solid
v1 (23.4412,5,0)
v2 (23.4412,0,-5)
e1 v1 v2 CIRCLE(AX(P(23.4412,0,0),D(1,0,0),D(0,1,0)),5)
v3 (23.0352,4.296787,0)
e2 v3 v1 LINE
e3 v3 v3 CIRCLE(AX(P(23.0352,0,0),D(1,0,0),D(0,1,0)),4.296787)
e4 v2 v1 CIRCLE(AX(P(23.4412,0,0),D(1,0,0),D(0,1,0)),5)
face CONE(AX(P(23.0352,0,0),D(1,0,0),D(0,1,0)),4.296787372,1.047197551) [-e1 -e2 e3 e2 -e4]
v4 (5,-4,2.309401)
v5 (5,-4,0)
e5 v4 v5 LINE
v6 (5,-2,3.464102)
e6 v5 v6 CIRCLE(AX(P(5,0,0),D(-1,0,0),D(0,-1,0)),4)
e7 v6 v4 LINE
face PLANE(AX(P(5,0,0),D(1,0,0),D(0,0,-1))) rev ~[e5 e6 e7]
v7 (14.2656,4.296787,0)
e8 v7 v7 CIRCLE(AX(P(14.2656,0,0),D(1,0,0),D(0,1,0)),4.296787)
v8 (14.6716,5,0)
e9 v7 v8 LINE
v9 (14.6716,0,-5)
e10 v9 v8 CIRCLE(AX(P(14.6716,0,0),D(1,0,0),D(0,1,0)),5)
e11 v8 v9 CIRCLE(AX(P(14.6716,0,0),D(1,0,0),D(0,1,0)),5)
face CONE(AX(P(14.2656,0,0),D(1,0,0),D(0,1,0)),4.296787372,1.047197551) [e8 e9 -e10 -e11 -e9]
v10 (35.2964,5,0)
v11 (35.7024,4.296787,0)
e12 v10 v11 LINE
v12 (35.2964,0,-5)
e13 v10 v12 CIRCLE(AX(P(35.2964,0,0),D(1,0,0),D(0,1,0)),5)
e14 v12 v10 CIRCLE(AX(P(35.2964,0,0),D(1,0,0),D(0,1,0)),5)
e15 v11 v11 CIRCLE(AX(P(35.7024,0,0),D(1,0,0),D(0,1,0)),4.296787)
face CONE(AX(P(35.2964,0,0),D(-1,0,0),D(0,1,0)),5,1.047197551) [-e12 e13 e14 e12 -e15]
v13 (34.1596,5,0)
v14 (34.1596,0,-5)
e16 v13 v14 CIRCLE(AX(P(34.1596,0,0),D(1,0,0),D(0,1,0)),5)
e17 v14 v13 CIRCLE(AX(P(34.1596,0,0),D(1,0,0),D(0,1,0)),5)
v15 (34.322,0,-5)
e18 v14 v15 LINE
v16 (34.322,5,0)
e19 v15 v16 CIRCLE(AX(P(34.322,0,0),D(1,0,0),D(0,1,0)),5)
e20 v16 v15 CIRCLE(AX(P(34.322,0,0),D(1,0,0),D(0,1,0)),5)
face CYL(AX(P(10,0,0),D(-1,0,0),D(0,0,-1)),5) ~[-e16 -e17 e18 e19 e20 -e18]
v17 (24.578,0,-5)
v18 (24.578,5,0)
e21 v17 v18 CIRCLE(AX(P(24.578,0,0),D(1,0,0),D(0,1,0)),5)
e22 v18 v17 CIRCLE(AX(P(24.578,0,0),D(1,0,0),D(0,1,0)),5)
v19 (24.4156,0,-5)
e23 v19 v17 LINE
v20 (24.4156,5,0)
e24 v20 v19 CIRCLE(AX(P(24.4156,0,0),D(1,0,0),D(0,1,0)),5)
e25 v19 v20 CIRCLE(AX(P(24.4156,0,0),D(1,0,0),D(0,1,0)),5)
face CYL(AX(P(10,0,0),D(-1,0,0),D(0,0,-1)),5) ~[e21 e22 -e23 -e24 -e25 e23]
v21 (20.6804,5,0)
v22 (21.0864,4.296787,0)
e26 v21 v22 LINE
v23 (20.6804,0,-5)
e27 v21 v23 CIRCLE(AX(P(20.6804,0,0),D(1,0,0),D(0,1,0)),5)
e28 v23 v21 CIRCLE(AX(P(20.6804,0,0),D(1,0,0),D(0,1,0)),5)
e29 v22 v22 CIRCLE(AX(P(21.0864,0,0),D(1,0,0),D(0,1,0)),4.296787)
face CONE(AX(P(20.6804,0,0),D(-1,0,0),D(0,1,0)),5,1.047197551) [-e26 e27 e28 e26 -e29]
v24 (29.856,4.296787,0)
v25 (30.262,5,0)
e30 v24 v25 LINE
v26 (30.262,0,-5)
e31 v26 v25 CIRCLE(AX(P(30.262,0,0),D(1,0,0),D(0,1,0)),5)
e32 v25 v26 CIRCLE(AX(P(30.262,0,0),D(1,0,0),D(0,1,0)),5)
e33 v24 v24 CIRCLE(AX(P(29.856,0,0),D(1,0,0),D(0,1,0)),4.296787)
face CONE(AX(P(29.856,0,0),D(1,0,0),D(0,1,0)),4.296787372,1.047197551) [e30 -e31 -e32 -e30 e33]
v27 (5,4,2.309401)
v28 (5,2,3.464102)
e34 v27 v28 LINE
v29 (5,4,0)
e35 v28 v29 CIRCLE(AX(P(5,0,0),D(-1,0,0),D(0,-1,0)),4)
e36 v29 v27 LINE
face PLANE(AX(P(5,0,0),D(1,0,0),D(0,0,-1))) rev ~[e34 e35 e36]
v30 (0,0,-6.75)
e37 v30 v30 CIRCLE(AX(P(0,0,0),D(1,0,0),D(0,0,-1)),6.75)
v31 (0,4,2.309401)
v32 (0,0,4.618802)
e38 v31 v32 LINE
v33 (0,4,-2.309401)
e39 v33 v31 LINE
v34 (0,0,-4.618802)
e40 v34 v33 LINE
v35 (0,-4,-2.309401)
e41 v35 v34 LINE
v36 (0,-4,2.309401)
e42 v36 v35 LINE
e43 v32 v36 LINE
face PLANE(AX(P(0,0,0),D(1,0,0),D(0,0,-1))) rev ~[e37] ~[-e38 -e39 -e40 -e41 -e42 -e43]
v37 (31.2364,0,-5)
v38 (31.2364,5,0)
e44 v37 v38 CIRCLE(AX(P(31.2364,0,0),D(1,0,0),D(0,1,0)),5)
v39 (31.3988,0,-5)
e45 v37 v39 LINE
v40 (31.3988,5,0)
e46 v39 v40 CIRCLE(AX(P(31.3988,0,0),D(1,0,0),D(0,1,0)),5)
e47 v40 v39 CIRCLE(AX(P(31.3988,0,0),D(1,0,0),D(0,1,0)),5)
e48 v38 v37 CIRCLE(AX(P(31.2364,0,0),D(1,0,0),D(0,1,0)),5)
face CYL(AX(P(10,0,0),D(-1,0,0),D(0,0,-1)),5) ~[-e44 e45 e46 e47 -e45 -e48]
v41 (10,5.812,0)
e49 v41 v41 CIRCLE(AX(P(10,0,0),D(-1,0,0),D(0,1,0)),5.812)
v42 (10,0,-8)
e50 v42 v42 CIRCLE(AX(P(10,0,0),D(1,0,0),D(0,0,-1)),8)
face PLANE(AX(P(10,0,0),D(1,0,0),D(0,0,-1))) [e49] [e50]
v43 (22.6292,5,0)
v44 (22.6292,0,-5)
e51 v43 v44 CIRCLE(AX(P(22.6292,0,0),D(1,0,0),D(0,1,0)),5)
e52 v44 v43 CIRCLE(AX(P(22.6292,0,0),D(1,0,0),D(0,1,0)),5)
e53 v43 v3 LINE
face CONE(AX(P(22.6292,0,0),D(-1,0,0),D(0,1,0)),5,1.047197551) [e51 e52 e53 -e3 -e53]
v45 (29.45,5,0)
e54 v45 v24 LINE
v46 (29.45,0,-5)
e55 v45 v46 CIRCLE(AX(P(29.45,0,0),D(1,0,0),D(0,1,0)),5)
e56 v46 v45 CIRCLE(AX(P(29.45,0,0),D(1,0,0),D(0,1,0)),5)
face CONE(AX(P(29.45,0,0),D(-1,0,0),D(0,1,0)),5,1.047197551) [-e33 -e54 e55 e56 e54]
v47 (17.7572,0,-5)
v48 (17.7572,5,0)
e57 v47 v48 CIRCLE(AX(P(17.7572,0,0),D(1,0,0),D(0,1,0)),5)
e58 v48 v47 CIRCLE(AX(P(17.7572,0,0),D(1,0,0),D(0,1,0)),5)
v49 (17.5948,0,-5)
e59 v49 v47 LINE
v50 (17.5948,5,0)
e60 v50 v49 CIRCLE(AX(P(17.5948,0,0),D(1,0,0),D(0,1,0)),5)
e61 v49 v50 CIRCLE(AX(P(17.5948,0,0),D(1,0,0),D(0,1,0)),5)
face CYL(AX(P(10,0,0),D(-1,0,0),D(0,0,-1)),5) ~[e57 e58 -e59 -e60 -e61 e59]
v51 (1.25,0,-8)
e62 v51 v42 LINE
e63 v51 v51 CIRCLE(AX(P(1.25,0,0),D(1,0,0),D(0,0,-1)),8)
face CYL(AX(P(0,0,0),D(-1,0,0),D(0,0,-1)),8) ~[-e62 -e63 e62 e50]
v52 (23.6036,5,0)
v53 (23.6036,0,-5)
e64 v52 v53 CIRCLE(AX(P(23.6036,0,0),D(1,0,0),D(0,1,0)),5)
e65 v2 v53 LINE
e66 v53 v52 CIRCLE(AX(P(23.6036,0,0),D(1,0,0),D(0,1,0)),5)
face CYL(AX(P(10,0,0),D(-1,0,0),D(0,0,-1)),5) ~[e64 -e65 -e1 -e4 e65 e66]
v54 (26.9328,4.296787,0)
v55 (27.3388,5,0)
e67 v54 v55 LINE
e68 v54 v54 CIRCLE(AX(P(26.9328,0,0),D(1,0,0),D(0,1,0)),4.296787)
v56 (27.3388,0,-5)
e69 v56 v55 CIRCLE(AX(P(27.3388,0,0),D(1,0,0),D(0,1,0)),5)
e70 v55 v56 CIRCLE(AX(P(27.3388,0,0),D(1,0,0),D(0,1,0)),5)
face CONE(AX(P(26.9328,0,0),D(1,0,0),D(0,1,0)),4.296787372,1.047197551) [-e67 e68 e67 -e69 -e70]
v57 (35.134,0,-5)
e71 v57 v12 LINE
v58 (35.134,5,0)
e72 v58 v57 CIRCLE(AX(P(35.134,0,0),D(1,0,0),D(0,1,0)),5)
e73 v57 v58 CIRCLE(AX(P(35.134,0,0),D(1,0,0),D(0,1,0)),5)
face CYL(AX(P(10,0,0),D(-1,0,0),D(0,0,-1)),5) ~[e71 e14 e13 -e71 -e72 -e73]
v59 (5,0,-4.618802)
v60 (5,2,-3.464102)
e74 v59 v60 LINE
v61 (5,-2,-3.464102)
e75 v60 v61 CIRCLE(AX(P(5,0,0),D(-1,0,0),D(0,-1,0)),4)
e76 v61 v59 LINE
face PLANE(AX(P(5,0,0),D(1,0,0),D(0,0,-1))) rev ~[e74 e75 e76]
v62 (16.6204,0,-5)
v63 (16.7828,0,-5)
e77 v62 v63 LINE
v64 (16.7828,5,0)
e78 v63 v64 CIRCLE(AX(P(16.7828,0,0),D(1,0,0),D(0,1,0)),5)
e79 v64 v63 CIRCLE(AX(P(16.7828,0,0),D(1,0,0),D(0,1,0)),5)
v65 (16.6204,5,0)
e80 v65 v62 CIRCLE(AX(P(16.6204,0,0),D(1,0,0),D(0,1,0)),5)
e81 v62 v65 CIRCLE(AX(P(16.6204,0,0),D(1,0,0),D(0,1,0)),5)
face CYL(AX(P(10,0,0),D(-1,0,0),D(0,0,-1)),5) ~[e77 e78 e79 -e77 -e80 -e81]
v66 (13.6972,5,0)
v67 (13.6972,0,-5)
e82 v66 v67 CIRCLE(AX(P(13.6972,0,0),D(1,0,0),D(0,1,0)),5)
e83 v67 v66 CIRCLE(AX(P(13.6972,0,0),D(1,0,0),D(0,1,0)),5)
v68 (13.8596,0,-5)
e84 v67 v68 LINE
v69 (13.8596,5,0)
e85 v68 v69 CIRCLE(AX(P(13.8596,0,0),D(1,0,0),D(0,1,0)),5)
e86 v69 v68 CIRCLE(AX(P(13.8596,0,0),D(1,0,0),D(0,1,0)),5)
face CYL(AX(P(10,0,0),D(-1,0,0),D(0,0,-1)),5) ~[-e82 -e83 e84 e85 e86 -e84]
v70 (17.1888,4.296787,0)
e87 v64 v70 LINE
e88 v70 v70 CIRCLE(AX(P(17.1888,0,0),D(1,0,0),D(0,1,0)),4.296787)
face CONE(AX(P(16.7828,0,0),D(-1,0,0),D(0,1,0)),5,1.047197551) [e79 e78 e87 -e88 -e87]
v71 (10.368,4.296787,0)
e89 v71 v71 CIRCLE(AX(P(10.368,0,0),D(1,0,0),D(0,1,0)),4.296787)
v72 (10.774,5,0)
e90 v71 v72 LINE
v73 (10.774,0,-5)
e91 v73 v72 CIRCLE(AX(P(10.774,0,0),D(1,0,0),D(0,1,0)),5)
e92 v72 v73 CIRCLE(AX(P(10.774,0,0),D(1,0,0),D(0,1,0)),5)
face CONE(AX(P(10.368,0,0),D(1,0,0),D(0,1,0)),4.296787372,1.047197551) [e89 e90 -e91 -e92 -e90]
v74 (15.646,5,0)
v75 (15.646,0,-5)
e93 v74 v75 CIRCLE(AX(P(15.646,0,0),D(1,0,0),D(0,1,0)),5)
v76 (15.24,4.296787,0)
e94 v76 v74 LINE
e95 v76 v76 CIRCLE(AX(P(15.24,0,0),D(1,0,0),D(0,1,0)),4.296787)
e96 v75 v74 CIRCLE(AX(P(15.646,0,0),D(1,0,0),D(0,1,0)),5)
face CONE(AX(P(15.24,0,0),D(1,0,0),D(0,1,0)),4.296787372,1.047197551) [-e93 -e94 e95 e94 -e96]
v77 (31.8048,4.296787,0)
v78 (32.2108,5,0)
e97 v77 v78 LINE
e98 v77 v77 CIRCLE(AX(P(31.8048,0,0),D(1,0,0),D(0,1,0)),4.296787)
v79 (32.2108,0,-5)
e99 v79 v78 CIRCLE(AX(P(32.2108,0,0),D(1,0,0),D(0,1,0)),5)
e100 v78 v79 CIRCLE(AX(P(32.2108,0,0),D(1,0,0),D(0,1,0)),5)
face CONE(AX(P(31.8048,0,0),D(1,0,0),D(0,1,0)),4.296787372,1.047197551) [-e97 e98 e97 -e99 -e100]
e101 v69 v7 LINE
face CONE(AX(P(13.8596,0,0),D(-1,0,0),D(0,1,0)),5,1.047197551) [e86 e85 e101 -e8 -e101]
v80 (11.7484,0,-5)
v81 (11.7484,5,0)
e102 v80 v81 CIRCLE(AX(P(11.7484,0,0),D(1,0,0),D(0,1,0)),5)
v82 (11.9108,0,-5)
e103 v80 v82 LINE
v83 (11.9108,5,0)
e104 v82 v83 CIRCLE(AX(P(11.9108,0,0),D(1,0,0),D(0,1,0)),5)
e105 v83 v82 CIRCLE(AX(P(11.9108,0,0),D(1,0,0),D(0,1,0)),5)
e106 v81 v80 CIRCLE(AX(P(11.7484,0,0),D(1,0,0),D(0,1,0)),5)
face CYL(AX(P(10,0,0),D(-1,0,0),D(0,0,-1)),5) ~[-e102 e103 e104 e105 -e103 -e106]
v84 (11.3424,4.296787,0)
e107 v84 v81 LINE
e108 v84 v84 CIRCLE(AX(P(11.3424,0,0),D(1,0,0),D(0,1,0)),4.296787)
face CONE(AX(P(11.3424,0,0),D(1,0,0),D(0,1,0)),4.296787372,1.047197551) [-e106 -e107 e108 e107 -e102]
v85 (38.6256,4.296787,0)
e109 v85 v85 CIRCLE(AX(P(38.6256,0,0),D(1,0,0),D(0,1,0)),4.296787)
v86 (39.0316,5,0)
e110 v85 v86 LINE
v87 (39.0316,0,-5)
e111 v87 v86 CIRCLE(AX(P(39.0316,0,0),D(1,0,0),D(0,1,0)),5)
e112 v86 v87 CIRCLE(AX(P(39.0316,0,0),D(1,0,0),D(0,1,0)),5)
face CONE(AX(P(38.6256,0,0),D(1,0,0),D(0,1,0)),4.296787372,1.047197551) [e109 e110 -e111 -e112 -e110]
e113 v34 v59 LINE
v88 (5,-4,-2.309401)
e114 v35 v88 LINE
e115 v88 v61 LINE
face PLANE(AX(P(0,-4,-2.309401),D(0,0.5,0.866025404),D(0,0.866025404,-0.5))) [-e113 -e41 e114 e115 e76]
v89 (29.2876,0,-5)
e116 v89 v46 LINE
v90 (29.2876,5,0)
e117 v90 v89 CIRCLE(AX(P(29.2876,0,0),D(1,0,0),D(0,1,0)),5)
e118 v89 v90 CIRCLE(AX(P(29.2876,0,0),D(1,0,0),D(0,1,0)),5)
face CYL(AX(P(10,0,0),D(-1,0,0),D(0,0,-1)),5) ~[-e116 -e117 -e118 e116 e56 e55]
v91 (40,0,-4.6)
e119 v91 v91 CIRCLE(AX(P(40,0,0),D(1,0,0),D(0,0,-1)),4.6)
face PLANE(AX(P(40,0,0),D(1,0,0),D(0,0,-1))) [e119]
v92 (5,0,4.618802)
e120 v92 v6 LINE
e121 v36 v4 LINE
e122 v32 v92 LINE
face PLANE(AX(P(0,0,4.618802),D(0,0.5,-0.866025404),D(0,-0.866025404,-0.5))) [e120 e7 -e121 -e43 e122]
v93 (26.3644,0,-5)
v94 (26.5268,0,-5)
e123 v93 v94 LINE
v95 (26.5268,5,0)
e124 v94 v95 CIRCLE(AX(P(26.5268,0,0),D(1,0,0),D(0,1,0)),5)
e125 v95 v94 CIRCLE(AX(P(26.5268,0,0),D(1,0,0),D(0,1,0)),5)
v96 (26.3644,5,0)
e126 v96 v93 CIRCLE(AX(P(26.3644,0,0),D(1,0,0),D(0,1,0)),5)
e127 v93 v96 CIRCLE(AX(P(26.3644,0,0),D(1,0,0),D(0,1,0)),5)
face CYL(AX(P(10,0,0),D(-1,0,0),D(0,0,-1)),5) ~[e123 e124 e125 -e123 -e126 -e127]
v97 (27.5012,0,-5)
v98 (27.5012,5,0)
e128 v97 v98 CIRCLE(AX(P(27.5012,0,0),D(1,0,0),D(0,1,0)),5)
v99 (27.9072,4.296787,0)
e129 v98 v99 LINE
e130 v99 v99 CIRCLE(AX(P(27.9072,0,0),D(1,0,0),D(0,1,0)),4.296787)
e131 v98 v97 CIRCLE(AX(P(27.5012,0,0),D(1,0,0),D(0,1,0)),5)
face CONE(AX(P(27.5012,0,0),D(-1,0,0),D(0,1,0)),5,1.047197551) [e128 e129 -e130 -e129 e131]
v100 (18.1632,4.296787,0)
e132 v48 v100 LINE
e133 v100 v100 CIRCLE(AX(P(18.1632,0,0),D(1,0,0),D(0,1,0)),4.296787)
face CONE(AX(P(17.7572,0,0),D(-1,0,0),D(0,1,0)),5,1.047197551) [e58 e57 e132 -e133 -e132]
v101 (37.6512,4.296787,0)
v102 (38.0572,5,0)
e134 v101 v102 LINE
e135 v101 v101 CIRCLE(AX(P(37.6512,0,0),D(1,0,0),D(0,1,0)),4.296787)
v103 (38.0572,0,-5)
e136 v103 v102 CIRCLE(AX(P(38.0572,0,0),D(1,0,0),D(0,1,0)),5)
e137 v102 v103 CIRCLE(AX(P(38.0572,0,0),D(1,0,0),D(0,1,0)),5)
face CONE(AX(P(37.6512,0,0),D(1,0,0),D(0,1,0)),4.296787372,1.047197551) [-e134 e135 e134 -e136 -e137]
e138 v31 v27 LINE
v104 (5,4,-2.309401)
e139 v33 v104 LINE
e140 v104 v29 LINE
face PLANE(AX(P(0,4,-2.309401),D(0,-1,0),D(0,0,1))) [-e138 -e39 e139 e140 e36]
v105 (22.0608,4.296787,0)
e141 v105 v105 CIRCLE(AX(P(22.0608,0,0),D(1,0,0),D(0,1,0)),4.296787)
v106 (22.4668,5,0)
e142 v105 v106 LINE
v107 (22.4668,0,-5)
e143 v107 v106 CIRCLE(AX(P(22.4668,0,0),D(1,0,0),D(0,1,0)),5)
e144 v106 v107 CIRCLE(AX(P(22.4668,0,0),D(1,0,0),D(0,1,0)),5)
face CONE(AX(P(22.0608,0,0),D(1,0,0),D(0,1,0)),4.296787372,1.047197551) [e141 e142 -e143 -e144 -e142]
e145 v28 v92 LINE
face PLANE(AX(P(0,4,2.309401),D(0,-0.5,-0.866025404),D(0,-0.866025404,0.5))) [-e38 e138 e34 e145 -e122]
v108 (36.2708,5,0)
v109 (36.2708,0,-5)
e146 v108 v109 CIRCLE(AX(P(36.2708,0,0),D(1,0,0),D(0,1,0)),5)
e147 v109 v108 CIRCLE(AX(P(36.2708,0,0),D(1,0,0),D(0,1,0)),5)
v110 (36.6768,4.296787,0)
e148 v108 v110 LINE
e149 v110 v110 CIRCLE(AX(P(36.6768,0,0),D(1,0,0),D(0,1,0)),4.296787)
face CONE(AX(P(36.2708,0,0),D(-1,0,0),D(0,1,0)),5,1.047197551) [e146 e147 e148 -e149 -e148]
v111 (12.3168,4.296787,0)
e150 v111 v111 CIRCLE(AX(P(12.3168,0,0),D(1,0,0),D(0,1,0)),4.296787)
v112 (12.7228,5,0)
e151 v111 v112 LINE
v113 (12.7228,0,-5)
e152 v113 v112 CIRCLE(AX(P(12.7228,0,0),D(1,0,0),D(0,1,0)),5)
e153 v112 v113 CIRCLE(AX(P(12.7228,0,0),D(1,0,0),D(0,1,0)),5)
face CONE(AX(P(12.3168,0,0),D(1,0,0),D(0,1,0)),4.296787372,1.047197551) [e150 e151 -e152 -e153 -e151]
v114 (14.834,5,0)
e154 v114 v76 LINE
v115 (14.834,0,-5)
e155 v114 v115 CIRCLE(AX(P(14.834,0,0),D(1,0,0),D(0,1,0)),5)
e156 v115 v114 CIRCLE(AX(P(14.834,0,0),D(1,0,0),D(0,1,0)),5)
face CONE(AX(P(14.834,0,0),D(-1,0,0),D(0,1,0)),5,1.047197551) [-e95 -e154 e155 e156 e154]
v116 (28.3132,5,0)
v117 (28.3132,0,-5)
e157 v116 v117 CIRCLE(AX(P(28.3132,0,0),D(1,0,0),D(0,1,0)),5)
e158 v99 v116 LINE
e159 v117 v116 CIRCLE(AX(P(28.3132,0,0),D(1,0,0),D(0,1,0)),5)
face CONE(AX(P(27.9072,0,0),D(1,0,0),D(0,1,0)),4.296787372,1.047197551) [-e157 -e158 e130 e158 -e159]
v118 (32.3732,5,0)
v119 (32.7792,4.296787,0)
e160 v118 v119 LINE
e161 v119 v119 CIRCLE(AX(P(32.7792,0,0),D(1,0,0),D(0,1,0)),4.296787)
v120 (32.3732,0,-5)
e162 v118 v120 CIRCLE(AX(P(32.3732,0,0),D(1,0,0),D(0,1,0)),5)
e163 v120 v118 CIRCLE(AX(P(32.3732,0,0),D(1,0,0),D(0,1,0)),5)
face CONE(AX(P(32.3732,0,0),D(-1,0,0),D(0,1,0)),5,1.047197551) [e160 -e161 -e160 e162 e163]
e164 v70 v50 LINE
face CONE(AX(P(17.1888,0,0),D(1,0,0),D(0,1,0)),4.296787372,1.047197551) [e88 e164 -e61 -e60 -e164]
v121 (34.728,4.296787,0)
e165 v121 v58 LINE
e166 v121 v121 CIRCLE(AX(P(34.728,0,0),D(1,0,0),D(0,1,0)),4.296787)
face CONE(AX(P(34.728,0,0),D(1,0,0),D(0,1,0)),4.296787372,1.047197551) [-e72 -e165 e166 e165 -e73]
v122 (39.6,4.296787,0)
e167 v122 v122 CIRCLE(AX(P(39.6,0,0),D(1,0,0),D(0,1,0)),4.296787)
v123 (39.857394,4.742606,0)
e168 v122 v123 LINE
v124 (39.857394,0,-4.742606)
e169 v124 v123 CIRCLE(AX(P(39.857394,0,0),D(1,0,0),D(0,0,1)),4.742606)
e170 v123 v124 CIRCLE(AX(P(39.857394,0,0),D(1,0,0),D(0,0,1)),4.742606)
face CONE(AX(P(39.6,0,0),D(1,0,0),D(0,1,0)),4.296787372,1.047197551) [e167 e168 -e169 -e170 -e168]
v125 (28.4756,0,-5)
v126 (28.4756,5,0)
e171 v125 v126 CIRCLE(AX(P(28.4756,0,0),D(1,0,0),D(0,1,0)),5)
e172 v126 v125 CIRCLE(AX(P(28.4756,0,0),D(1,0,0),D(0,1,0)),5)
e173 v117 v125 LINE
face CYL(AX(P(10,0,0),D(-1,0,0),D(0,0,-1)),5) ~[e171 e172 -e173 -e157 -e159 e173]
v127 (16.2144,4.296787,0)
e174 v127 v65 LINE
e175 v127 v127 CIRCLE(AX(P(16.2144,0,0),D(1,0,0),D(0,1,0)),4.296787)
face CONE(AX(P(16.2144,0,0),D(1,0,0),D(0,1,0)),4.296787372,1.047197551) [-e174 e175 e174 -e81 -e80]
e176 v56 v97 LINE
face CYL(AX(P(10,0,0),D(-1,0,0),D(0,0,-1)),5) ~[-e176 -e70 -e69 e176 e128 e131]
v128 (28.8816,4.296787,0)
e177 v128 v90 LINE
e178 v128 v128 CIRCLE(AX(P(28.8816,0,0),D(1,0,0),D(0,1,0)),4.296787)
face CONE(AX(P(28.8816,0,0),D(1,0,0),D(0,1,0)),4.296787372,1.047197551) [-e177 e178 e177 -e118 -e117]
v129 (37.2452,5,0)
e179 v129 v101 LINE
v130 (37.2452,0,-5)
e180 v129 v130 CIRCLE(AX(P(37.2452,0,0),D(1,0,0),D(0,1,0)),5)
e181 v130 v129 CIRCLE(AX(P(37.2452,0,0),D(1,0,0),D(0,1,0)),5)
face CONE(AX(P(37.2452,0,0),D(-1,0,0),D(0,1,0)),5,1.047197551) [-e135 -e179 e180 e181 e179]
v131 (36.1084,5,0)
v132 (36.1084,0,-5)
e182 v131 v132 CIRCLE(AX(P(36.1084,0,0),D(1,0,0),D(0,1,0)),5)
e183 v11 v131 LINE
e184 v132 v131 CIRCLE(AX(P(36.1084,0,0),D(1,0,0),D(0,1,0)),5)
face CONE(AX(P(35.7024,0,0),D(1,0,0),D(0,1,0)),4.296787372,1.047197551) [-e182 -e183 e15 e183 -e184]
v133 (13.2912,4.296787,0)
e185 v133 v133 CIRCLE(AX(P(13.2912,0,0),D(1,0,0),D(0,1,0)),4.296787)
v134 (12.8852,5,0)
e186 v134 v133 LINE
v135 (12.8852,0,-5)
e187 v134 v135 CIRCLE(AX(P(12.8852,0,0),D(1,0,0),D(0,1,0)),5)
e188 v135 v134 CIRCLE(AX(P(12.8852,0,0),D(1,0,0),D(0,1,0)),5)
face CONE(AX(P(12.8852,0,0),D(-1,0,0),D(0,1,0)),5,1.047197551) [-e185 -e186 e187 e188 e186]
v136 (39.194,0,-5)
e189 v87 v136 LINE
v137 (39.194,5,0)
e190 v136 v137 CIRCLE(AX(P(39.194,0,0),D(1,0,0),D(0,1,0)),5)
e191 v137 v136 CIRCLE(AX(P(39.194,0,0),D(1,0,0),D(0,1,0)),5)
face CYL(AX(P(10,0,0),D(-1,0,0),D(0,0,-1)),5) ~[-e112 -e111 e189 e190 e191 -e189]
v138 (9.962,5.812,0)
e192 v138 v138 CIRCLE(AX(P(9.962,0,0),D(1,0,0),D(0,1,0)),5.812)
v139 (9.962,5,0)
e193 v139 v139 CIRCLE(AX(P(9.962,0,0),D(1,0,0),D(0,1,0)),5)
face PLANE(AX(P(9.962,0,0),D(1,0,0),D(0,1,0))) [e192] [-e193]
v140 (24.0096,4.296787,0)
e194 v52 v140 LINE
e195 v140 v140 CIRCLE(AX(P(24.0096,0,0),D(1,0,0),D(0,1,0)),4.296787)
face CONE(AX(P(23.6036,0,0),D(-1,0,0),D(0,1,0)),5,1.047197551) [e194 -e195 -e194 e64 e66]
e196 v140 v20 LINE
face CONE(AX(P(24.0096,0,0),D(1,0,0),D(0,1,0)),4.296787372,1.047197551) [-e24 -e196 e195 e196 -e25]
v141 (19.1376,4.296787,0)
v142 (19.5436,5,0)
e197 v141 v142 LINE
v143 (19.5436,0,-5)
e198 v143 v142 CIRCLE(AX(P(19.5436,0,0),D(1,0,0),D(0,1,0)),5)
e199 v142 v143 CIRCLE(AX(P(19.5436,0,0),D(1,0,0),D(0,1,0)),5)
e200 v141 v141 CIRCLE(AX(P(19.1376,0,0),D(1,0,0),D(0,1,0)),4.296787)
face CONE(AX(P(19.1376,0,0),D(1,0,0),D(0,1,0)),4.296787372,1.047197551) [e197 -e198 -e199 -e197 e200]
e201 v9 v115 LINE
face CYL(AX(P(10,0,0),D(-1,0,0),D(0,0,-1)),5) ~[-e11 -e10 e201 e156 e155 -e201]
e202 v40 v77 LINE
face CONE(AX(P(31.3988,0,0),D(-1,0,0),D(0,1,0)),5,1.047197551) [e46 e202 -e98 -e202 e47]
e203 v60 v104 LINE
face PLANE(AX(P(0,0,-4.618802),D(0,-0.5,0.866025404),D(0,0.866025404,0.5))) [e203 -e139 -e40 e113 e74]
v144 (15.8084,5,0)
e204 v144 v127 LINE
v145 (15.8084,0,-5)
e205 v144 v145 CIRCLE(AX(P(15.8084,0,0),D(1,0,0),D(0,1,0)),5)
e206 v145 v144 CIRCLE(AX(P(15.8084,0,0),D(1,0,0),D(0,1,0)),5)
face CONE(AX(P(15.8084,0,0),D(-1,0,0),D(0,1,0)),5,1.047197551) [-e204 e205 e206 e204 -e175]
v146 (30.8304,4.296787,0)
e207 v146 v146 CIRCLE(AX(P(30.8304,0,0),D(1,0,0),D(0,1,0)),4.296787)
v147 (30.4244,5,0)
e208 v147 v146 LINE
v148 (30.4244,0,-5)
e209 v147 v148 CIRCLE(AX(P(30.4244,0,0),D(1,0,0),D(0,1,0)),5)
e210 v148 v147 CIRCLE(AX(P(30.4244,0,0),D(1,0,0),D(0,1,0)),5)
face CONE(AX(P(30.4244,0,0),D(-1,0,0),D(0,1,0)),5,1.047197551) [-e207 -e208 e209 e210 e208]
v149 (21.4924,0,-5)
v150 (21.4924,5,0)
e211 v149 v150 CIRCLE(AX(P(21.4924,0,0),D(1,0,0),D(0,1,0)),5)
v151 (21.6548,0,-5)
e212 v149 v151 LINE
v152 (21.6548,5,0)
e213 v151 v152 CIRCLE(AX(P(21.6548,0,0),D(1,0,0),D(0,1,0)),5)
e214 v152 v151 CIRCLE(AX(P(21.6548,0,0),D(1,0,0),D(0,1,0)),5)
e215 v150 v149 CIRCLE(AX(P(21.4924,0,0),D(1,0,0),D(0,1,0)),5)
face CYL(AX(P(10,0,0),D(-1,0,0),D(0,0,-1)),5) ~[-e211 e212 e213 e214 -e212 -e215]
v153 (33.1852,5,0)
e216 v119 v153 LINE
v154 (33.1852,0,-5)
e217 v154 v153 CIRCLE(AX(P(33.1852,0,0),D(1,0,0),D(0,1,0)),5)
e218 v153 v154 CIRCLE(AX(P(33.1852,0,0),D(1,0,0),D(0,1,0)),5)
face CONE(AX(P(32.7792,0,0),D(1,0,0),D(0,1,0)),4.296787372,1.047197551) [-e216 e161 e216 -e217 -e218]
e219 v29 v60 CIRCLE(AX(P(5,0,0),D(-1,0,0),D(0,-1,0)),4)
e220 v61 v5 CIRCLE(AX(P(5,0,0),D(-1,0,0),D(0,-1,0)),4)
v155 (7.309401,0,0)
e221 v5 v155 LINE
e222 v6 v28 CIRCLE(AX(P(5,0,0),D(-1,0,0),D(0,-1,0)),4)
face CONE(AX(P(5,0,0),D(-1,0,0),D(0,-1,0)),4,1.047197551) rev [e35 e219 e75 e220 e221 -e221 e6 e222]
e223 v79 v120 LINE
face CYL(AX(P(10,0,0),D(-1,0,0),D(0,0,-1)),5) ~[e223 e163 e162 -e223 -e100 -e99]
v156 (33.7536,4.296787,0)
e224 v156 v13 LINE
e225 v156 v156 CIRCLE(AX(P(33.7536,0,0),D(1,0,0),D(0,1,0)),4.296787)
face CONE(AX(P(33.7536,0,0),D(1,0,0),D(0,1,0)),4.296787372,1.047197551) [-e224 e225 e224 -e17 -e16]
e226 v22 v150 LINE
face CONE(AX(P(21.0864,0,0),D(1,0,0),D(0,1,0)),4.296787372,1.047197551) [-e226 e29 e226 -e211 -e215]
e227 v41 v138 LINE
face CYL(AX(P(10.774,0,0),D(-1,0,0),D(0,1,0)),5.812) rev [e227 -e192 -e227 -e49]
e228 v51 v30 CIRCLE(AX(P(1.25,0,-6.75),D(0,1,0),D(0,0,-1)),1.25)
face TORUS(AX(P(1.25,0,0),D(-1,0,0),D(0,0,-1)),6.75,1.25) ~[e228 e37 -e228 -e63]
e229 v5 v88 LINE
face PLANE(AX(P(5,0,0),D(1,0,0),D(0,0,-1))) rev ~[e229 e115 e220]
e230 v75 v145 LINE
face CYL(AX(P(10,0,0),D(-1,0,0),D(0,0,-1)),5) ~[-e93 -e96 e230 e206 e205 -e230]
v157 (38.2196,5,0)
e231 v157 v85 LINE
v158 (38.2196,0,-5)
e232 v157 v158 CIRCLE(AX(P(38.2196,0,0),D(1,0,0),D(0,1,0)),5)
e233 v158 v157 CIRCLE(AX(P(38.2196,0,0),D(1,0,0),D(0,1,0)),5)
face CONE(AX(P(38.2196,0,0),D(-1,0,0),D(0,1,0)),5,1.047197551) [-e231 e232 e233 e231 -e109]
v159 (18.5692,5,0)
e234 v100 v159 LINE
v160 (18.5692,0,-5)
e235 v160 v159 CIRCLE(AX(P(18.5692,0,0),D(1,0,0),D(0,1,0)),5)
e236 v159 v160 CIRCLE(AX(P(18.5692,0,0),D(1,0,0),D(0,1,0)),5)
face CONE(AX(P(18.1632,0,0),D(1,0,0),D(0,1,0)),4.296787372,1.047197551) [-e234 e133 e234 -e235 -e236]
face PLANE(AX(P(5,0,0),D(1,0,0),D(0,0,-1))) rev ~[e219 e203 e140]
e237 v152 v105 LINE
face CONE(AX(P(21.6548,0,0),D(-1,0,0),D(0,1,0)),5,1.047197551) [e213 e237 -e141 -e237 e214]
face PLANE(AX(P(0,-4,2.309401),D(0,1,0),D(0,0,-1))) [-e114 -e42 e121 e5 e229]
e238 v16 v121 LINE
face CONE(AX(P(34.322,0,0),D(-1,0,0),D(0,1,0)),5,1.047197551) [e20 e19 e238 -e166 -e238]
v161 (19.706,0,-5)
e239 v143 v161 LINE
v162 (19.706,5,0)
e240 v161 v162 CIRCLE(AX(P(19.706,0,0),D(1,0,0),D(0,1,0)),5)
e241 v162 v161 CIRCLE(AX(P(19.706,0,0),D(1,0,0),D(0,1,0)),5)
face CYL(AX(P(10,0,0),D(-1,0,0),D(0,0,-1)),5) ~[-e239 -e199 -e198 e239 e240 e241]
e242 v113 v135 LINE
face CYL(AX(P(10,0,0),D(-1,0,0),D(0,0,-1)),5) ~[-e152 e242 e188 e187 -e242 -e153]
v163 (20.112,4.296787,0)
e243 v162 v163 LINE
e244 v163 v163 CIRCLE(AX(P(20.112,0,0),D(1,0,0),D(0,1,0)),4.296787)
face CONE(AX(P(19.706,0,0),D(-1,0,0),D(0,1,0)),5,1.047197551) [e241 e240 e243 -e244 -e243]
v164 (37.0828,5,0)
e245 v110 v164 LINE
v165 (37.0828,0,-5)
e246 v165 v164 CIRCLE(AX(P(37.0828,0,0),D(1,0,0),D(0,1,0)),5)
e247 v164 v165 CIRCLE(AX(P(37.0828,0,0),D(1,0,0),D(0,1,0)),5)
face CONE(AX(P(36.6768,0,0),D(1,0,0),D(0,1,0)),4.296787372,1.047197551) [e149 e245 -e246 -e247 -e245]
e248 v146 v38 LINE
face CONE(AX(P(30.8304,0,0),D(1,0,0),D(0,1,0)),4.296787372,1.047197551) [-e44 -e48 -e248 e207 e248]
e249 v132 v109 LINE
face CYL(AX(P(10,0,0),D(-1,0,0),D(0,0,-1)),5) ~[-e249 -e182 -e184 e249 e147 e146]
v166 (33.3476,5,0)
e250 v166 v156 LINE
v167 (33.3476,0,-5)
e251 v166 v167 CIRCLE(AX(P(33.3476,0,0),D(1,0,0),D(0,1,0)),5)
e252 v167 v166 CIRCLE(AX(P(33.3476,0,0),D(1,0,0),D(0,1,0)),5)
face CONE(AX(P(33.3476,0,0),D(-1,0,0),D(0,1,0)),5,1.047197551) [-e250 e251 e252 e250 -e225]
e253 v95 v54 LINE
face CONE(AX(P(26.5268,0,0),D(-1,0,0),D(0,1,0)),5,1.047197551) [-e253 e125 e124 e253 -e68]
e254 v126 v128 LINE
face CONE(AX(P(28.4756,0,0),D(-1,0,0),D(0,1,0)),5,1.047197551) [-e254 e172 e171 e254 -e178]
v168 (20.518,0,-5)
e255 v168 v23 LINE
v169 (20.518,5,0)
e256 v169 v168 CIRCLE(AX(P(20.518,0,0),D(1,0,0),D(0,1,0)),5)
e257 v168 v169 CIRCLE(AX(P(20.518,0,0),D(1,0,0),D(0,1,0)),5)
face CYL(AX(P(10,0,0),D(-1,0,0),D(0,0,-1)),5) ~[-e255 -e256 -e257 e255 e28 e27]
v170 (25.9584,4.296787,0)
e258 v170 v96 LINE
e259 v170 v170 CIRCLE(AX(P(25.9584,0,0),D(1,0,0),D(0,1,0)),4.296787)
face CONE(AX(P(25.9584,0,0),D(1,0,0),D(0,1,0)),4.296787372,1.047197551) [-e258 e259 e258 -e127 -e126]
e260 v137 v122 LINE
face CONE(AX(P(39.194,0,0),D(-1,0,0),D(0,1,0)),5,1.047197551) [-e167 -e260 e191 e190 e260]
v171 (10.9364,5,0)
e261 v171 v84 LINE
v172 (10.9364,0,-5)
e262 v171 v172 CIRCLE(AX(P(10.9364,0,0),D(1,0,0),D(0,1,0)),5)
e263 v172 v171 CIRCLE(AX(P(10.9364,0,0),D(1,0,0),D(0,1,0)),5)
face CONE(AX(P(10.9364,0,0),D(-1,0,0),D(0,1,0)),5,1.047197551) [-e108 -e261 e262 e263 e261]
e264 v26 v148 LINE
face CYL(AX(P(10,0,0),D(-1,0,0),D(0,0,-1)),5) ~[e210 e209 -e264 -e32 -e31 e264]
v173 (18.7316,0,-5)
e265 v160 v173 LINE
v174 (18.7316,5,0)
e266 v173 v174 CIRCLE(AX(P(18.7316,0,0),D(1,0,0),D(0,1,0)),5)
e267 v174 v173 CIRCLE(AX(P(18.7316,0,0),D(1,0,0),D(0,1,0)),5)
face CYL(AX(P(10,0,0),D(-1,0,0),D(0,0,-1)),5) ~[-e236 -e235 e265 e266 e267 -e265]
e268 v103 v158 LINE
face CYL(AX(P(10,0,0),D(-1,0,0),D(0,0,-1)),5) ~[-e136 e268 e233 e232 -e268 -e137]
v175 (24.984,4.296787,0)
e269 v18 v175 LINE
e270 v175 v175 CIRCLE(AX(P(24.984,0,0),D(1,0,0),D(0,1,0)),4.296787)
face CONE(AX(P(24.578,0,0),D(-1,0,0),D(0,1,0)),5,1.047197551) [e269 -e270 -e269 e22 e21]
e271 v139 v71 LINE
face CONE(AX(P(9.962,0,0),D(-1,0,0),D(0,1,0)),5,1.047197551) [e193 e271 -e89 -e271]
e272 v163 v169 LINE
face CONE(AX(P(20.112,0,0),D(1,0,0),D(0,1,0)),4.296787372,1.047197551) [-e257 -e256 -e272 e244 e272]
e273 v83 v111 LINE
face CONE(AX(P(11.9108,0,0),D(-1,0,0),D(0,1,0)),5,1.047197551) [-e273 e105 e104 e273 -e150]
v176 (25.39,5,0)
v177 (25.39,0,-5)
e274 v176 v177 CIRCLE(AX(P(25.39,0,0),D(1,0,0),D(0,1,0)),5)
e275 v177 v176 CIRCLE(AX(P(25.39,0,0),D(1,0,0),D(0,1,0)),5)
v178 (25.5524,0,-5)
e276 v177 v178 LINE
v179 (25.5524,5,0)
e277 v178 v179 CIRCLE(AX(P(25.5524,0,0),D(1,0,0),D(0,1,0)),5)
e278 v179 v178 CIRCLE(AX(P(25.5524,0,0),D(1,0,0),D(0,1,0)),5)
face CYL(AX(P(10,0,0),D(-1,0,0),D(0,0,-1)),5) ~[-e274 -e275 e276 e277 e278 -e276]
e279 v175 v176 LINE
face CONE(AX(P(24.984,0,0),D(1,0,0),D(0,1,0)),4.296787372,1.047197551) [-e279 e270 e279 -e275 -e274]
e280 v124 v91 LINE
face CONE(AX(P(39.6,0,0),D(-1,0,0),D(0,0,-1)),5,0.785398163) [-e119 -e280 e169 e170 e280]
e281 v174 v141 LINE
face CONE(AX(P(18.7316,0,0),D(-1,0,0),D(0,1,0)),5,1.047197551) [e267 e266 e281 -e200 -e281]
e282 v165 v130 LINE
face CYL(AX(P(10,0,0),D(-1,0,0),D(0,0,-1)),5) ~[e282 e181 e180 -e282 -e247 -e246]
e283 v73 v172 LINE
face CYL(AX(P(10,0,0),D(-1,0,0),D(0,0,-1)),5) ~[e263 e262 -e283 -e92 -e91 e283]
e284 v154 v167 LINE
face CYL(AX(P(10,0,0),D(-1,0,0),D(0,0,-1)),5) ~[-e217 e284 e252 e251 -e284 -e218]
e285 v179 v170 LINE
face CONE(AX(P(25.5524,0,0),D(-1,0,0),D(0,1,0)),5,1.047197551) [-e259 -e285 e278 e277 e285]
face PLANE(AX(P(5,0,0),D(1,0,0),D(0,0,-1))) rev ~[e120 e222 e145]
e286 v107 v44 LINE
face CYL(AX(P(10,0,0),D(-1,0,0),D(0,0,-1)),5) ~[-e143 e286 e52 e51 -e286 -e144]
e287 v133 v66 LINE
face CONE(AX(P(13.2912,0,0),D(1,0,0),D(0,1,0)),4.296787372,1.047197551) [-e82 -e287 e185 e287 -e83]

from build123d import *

# Parameters (mm, degrees)
SKETCH1_R           = 8
BASEHEAD_DEPTH      = 10
SKETCH2_R           = 5
BASEBODY_DEPTH      = 30
HEXAGONSOCKET_DEPTH = 5
TOPFILLET_R         = 1.25
CHAMFER1_SIZE       = 0.4
LPATTERN10_COUNT    = 31
LPATTERN10_PITCH    = 0.9744


with BuildPart() as part:
    # Sketch1 → BaseHead (new body)
    with BuildSketch(Plane(origin=(0, 0, 0), x_dir=(0, 0, -1), z_dir=(1, 0, 0))):
        Circle(SKETCH1_R)
    extrude(amount=BASEHEAD_DEPTH)

    # Sketch2 → BaseBody (add)
    with BuildSketch(Plane(origin=(10, 0, 0), x_dir=(0, 0, -1), z_dir=(1, 0, 0))):
        Circle(SKETCH2_R)
    extrude(amount=BASEBODY_DEPTH)

    # Sketch3 → HexagonSocket (cut)
    with BuildSketch(Plane(origin=(0, 0, 0), x_dir=(0, 0, -1), z_dir=(1, 0, 0))):
        Polygon((4.618802154, 0), (2.309401077, 4), (-2.309401077, 4), (-4.618802154, 0), (-2.309401077, -4), (2.309401077, -4), align=None)
    extrude(amount=HEXAGONSOCKET_DEPTH, mode=Mode.SUBTRACT)

    # Sketch4 → Cut-Revolve1 (revolve, cut)
    with BuildSketch(Plane(origin=(-4.19613823, 0.75, 0), x_dir=(-1, 0, 0), z_dir=(0, 0, 1))):
        Polygon((-9.19613823, 4.75), (-11.505539306, 0.75), (-9.19613823, 0.75), align=None)
    revolve(axis=Axis((0.838992387, 0, 0), (-1, 0, 0)), mode=Mode.SUBTRACT)

    # TopFillet
    topfillet_edges = [part.edges().sort_by_distance(p)[0] for p in [
        (0, 0, 8),
    ]]
    fillet(topfillet_edges, radius=TOPFILLET_R)

    # Chamfer1
    chamfer1_edges = [part.edges().sort_by_distance(p)[0] for p in [
        (40, 0, 5),
    ]]
    chamfer(chamfer1_edges, length=CHAMFER1_SIZE)

    # Sketch5 → Cut-Revolve10 (revolve, cut)
    with BuildSketch(Plane.XY):
        Polygon((39.6, 4.296787372), (40.006, 5), (40.006, 5.812), (39.194, 5.812), (39.194, 5), align=None)
    cut_revolve10 = revolve(axis=Axis((0, 0, 0), (1, 0, 0)), mode=Mode.SUBTRACT)

    # LPattern10: Cut-Revolve10 ×31
    with Locations(*[(-i * LPATTERN10_PITCH, 0, 0) for i in range(1, LPATTERN10_COUNT)]):
        add(cut_revolve10, mode=Mode.SUBTRACT)


solid = part.part
